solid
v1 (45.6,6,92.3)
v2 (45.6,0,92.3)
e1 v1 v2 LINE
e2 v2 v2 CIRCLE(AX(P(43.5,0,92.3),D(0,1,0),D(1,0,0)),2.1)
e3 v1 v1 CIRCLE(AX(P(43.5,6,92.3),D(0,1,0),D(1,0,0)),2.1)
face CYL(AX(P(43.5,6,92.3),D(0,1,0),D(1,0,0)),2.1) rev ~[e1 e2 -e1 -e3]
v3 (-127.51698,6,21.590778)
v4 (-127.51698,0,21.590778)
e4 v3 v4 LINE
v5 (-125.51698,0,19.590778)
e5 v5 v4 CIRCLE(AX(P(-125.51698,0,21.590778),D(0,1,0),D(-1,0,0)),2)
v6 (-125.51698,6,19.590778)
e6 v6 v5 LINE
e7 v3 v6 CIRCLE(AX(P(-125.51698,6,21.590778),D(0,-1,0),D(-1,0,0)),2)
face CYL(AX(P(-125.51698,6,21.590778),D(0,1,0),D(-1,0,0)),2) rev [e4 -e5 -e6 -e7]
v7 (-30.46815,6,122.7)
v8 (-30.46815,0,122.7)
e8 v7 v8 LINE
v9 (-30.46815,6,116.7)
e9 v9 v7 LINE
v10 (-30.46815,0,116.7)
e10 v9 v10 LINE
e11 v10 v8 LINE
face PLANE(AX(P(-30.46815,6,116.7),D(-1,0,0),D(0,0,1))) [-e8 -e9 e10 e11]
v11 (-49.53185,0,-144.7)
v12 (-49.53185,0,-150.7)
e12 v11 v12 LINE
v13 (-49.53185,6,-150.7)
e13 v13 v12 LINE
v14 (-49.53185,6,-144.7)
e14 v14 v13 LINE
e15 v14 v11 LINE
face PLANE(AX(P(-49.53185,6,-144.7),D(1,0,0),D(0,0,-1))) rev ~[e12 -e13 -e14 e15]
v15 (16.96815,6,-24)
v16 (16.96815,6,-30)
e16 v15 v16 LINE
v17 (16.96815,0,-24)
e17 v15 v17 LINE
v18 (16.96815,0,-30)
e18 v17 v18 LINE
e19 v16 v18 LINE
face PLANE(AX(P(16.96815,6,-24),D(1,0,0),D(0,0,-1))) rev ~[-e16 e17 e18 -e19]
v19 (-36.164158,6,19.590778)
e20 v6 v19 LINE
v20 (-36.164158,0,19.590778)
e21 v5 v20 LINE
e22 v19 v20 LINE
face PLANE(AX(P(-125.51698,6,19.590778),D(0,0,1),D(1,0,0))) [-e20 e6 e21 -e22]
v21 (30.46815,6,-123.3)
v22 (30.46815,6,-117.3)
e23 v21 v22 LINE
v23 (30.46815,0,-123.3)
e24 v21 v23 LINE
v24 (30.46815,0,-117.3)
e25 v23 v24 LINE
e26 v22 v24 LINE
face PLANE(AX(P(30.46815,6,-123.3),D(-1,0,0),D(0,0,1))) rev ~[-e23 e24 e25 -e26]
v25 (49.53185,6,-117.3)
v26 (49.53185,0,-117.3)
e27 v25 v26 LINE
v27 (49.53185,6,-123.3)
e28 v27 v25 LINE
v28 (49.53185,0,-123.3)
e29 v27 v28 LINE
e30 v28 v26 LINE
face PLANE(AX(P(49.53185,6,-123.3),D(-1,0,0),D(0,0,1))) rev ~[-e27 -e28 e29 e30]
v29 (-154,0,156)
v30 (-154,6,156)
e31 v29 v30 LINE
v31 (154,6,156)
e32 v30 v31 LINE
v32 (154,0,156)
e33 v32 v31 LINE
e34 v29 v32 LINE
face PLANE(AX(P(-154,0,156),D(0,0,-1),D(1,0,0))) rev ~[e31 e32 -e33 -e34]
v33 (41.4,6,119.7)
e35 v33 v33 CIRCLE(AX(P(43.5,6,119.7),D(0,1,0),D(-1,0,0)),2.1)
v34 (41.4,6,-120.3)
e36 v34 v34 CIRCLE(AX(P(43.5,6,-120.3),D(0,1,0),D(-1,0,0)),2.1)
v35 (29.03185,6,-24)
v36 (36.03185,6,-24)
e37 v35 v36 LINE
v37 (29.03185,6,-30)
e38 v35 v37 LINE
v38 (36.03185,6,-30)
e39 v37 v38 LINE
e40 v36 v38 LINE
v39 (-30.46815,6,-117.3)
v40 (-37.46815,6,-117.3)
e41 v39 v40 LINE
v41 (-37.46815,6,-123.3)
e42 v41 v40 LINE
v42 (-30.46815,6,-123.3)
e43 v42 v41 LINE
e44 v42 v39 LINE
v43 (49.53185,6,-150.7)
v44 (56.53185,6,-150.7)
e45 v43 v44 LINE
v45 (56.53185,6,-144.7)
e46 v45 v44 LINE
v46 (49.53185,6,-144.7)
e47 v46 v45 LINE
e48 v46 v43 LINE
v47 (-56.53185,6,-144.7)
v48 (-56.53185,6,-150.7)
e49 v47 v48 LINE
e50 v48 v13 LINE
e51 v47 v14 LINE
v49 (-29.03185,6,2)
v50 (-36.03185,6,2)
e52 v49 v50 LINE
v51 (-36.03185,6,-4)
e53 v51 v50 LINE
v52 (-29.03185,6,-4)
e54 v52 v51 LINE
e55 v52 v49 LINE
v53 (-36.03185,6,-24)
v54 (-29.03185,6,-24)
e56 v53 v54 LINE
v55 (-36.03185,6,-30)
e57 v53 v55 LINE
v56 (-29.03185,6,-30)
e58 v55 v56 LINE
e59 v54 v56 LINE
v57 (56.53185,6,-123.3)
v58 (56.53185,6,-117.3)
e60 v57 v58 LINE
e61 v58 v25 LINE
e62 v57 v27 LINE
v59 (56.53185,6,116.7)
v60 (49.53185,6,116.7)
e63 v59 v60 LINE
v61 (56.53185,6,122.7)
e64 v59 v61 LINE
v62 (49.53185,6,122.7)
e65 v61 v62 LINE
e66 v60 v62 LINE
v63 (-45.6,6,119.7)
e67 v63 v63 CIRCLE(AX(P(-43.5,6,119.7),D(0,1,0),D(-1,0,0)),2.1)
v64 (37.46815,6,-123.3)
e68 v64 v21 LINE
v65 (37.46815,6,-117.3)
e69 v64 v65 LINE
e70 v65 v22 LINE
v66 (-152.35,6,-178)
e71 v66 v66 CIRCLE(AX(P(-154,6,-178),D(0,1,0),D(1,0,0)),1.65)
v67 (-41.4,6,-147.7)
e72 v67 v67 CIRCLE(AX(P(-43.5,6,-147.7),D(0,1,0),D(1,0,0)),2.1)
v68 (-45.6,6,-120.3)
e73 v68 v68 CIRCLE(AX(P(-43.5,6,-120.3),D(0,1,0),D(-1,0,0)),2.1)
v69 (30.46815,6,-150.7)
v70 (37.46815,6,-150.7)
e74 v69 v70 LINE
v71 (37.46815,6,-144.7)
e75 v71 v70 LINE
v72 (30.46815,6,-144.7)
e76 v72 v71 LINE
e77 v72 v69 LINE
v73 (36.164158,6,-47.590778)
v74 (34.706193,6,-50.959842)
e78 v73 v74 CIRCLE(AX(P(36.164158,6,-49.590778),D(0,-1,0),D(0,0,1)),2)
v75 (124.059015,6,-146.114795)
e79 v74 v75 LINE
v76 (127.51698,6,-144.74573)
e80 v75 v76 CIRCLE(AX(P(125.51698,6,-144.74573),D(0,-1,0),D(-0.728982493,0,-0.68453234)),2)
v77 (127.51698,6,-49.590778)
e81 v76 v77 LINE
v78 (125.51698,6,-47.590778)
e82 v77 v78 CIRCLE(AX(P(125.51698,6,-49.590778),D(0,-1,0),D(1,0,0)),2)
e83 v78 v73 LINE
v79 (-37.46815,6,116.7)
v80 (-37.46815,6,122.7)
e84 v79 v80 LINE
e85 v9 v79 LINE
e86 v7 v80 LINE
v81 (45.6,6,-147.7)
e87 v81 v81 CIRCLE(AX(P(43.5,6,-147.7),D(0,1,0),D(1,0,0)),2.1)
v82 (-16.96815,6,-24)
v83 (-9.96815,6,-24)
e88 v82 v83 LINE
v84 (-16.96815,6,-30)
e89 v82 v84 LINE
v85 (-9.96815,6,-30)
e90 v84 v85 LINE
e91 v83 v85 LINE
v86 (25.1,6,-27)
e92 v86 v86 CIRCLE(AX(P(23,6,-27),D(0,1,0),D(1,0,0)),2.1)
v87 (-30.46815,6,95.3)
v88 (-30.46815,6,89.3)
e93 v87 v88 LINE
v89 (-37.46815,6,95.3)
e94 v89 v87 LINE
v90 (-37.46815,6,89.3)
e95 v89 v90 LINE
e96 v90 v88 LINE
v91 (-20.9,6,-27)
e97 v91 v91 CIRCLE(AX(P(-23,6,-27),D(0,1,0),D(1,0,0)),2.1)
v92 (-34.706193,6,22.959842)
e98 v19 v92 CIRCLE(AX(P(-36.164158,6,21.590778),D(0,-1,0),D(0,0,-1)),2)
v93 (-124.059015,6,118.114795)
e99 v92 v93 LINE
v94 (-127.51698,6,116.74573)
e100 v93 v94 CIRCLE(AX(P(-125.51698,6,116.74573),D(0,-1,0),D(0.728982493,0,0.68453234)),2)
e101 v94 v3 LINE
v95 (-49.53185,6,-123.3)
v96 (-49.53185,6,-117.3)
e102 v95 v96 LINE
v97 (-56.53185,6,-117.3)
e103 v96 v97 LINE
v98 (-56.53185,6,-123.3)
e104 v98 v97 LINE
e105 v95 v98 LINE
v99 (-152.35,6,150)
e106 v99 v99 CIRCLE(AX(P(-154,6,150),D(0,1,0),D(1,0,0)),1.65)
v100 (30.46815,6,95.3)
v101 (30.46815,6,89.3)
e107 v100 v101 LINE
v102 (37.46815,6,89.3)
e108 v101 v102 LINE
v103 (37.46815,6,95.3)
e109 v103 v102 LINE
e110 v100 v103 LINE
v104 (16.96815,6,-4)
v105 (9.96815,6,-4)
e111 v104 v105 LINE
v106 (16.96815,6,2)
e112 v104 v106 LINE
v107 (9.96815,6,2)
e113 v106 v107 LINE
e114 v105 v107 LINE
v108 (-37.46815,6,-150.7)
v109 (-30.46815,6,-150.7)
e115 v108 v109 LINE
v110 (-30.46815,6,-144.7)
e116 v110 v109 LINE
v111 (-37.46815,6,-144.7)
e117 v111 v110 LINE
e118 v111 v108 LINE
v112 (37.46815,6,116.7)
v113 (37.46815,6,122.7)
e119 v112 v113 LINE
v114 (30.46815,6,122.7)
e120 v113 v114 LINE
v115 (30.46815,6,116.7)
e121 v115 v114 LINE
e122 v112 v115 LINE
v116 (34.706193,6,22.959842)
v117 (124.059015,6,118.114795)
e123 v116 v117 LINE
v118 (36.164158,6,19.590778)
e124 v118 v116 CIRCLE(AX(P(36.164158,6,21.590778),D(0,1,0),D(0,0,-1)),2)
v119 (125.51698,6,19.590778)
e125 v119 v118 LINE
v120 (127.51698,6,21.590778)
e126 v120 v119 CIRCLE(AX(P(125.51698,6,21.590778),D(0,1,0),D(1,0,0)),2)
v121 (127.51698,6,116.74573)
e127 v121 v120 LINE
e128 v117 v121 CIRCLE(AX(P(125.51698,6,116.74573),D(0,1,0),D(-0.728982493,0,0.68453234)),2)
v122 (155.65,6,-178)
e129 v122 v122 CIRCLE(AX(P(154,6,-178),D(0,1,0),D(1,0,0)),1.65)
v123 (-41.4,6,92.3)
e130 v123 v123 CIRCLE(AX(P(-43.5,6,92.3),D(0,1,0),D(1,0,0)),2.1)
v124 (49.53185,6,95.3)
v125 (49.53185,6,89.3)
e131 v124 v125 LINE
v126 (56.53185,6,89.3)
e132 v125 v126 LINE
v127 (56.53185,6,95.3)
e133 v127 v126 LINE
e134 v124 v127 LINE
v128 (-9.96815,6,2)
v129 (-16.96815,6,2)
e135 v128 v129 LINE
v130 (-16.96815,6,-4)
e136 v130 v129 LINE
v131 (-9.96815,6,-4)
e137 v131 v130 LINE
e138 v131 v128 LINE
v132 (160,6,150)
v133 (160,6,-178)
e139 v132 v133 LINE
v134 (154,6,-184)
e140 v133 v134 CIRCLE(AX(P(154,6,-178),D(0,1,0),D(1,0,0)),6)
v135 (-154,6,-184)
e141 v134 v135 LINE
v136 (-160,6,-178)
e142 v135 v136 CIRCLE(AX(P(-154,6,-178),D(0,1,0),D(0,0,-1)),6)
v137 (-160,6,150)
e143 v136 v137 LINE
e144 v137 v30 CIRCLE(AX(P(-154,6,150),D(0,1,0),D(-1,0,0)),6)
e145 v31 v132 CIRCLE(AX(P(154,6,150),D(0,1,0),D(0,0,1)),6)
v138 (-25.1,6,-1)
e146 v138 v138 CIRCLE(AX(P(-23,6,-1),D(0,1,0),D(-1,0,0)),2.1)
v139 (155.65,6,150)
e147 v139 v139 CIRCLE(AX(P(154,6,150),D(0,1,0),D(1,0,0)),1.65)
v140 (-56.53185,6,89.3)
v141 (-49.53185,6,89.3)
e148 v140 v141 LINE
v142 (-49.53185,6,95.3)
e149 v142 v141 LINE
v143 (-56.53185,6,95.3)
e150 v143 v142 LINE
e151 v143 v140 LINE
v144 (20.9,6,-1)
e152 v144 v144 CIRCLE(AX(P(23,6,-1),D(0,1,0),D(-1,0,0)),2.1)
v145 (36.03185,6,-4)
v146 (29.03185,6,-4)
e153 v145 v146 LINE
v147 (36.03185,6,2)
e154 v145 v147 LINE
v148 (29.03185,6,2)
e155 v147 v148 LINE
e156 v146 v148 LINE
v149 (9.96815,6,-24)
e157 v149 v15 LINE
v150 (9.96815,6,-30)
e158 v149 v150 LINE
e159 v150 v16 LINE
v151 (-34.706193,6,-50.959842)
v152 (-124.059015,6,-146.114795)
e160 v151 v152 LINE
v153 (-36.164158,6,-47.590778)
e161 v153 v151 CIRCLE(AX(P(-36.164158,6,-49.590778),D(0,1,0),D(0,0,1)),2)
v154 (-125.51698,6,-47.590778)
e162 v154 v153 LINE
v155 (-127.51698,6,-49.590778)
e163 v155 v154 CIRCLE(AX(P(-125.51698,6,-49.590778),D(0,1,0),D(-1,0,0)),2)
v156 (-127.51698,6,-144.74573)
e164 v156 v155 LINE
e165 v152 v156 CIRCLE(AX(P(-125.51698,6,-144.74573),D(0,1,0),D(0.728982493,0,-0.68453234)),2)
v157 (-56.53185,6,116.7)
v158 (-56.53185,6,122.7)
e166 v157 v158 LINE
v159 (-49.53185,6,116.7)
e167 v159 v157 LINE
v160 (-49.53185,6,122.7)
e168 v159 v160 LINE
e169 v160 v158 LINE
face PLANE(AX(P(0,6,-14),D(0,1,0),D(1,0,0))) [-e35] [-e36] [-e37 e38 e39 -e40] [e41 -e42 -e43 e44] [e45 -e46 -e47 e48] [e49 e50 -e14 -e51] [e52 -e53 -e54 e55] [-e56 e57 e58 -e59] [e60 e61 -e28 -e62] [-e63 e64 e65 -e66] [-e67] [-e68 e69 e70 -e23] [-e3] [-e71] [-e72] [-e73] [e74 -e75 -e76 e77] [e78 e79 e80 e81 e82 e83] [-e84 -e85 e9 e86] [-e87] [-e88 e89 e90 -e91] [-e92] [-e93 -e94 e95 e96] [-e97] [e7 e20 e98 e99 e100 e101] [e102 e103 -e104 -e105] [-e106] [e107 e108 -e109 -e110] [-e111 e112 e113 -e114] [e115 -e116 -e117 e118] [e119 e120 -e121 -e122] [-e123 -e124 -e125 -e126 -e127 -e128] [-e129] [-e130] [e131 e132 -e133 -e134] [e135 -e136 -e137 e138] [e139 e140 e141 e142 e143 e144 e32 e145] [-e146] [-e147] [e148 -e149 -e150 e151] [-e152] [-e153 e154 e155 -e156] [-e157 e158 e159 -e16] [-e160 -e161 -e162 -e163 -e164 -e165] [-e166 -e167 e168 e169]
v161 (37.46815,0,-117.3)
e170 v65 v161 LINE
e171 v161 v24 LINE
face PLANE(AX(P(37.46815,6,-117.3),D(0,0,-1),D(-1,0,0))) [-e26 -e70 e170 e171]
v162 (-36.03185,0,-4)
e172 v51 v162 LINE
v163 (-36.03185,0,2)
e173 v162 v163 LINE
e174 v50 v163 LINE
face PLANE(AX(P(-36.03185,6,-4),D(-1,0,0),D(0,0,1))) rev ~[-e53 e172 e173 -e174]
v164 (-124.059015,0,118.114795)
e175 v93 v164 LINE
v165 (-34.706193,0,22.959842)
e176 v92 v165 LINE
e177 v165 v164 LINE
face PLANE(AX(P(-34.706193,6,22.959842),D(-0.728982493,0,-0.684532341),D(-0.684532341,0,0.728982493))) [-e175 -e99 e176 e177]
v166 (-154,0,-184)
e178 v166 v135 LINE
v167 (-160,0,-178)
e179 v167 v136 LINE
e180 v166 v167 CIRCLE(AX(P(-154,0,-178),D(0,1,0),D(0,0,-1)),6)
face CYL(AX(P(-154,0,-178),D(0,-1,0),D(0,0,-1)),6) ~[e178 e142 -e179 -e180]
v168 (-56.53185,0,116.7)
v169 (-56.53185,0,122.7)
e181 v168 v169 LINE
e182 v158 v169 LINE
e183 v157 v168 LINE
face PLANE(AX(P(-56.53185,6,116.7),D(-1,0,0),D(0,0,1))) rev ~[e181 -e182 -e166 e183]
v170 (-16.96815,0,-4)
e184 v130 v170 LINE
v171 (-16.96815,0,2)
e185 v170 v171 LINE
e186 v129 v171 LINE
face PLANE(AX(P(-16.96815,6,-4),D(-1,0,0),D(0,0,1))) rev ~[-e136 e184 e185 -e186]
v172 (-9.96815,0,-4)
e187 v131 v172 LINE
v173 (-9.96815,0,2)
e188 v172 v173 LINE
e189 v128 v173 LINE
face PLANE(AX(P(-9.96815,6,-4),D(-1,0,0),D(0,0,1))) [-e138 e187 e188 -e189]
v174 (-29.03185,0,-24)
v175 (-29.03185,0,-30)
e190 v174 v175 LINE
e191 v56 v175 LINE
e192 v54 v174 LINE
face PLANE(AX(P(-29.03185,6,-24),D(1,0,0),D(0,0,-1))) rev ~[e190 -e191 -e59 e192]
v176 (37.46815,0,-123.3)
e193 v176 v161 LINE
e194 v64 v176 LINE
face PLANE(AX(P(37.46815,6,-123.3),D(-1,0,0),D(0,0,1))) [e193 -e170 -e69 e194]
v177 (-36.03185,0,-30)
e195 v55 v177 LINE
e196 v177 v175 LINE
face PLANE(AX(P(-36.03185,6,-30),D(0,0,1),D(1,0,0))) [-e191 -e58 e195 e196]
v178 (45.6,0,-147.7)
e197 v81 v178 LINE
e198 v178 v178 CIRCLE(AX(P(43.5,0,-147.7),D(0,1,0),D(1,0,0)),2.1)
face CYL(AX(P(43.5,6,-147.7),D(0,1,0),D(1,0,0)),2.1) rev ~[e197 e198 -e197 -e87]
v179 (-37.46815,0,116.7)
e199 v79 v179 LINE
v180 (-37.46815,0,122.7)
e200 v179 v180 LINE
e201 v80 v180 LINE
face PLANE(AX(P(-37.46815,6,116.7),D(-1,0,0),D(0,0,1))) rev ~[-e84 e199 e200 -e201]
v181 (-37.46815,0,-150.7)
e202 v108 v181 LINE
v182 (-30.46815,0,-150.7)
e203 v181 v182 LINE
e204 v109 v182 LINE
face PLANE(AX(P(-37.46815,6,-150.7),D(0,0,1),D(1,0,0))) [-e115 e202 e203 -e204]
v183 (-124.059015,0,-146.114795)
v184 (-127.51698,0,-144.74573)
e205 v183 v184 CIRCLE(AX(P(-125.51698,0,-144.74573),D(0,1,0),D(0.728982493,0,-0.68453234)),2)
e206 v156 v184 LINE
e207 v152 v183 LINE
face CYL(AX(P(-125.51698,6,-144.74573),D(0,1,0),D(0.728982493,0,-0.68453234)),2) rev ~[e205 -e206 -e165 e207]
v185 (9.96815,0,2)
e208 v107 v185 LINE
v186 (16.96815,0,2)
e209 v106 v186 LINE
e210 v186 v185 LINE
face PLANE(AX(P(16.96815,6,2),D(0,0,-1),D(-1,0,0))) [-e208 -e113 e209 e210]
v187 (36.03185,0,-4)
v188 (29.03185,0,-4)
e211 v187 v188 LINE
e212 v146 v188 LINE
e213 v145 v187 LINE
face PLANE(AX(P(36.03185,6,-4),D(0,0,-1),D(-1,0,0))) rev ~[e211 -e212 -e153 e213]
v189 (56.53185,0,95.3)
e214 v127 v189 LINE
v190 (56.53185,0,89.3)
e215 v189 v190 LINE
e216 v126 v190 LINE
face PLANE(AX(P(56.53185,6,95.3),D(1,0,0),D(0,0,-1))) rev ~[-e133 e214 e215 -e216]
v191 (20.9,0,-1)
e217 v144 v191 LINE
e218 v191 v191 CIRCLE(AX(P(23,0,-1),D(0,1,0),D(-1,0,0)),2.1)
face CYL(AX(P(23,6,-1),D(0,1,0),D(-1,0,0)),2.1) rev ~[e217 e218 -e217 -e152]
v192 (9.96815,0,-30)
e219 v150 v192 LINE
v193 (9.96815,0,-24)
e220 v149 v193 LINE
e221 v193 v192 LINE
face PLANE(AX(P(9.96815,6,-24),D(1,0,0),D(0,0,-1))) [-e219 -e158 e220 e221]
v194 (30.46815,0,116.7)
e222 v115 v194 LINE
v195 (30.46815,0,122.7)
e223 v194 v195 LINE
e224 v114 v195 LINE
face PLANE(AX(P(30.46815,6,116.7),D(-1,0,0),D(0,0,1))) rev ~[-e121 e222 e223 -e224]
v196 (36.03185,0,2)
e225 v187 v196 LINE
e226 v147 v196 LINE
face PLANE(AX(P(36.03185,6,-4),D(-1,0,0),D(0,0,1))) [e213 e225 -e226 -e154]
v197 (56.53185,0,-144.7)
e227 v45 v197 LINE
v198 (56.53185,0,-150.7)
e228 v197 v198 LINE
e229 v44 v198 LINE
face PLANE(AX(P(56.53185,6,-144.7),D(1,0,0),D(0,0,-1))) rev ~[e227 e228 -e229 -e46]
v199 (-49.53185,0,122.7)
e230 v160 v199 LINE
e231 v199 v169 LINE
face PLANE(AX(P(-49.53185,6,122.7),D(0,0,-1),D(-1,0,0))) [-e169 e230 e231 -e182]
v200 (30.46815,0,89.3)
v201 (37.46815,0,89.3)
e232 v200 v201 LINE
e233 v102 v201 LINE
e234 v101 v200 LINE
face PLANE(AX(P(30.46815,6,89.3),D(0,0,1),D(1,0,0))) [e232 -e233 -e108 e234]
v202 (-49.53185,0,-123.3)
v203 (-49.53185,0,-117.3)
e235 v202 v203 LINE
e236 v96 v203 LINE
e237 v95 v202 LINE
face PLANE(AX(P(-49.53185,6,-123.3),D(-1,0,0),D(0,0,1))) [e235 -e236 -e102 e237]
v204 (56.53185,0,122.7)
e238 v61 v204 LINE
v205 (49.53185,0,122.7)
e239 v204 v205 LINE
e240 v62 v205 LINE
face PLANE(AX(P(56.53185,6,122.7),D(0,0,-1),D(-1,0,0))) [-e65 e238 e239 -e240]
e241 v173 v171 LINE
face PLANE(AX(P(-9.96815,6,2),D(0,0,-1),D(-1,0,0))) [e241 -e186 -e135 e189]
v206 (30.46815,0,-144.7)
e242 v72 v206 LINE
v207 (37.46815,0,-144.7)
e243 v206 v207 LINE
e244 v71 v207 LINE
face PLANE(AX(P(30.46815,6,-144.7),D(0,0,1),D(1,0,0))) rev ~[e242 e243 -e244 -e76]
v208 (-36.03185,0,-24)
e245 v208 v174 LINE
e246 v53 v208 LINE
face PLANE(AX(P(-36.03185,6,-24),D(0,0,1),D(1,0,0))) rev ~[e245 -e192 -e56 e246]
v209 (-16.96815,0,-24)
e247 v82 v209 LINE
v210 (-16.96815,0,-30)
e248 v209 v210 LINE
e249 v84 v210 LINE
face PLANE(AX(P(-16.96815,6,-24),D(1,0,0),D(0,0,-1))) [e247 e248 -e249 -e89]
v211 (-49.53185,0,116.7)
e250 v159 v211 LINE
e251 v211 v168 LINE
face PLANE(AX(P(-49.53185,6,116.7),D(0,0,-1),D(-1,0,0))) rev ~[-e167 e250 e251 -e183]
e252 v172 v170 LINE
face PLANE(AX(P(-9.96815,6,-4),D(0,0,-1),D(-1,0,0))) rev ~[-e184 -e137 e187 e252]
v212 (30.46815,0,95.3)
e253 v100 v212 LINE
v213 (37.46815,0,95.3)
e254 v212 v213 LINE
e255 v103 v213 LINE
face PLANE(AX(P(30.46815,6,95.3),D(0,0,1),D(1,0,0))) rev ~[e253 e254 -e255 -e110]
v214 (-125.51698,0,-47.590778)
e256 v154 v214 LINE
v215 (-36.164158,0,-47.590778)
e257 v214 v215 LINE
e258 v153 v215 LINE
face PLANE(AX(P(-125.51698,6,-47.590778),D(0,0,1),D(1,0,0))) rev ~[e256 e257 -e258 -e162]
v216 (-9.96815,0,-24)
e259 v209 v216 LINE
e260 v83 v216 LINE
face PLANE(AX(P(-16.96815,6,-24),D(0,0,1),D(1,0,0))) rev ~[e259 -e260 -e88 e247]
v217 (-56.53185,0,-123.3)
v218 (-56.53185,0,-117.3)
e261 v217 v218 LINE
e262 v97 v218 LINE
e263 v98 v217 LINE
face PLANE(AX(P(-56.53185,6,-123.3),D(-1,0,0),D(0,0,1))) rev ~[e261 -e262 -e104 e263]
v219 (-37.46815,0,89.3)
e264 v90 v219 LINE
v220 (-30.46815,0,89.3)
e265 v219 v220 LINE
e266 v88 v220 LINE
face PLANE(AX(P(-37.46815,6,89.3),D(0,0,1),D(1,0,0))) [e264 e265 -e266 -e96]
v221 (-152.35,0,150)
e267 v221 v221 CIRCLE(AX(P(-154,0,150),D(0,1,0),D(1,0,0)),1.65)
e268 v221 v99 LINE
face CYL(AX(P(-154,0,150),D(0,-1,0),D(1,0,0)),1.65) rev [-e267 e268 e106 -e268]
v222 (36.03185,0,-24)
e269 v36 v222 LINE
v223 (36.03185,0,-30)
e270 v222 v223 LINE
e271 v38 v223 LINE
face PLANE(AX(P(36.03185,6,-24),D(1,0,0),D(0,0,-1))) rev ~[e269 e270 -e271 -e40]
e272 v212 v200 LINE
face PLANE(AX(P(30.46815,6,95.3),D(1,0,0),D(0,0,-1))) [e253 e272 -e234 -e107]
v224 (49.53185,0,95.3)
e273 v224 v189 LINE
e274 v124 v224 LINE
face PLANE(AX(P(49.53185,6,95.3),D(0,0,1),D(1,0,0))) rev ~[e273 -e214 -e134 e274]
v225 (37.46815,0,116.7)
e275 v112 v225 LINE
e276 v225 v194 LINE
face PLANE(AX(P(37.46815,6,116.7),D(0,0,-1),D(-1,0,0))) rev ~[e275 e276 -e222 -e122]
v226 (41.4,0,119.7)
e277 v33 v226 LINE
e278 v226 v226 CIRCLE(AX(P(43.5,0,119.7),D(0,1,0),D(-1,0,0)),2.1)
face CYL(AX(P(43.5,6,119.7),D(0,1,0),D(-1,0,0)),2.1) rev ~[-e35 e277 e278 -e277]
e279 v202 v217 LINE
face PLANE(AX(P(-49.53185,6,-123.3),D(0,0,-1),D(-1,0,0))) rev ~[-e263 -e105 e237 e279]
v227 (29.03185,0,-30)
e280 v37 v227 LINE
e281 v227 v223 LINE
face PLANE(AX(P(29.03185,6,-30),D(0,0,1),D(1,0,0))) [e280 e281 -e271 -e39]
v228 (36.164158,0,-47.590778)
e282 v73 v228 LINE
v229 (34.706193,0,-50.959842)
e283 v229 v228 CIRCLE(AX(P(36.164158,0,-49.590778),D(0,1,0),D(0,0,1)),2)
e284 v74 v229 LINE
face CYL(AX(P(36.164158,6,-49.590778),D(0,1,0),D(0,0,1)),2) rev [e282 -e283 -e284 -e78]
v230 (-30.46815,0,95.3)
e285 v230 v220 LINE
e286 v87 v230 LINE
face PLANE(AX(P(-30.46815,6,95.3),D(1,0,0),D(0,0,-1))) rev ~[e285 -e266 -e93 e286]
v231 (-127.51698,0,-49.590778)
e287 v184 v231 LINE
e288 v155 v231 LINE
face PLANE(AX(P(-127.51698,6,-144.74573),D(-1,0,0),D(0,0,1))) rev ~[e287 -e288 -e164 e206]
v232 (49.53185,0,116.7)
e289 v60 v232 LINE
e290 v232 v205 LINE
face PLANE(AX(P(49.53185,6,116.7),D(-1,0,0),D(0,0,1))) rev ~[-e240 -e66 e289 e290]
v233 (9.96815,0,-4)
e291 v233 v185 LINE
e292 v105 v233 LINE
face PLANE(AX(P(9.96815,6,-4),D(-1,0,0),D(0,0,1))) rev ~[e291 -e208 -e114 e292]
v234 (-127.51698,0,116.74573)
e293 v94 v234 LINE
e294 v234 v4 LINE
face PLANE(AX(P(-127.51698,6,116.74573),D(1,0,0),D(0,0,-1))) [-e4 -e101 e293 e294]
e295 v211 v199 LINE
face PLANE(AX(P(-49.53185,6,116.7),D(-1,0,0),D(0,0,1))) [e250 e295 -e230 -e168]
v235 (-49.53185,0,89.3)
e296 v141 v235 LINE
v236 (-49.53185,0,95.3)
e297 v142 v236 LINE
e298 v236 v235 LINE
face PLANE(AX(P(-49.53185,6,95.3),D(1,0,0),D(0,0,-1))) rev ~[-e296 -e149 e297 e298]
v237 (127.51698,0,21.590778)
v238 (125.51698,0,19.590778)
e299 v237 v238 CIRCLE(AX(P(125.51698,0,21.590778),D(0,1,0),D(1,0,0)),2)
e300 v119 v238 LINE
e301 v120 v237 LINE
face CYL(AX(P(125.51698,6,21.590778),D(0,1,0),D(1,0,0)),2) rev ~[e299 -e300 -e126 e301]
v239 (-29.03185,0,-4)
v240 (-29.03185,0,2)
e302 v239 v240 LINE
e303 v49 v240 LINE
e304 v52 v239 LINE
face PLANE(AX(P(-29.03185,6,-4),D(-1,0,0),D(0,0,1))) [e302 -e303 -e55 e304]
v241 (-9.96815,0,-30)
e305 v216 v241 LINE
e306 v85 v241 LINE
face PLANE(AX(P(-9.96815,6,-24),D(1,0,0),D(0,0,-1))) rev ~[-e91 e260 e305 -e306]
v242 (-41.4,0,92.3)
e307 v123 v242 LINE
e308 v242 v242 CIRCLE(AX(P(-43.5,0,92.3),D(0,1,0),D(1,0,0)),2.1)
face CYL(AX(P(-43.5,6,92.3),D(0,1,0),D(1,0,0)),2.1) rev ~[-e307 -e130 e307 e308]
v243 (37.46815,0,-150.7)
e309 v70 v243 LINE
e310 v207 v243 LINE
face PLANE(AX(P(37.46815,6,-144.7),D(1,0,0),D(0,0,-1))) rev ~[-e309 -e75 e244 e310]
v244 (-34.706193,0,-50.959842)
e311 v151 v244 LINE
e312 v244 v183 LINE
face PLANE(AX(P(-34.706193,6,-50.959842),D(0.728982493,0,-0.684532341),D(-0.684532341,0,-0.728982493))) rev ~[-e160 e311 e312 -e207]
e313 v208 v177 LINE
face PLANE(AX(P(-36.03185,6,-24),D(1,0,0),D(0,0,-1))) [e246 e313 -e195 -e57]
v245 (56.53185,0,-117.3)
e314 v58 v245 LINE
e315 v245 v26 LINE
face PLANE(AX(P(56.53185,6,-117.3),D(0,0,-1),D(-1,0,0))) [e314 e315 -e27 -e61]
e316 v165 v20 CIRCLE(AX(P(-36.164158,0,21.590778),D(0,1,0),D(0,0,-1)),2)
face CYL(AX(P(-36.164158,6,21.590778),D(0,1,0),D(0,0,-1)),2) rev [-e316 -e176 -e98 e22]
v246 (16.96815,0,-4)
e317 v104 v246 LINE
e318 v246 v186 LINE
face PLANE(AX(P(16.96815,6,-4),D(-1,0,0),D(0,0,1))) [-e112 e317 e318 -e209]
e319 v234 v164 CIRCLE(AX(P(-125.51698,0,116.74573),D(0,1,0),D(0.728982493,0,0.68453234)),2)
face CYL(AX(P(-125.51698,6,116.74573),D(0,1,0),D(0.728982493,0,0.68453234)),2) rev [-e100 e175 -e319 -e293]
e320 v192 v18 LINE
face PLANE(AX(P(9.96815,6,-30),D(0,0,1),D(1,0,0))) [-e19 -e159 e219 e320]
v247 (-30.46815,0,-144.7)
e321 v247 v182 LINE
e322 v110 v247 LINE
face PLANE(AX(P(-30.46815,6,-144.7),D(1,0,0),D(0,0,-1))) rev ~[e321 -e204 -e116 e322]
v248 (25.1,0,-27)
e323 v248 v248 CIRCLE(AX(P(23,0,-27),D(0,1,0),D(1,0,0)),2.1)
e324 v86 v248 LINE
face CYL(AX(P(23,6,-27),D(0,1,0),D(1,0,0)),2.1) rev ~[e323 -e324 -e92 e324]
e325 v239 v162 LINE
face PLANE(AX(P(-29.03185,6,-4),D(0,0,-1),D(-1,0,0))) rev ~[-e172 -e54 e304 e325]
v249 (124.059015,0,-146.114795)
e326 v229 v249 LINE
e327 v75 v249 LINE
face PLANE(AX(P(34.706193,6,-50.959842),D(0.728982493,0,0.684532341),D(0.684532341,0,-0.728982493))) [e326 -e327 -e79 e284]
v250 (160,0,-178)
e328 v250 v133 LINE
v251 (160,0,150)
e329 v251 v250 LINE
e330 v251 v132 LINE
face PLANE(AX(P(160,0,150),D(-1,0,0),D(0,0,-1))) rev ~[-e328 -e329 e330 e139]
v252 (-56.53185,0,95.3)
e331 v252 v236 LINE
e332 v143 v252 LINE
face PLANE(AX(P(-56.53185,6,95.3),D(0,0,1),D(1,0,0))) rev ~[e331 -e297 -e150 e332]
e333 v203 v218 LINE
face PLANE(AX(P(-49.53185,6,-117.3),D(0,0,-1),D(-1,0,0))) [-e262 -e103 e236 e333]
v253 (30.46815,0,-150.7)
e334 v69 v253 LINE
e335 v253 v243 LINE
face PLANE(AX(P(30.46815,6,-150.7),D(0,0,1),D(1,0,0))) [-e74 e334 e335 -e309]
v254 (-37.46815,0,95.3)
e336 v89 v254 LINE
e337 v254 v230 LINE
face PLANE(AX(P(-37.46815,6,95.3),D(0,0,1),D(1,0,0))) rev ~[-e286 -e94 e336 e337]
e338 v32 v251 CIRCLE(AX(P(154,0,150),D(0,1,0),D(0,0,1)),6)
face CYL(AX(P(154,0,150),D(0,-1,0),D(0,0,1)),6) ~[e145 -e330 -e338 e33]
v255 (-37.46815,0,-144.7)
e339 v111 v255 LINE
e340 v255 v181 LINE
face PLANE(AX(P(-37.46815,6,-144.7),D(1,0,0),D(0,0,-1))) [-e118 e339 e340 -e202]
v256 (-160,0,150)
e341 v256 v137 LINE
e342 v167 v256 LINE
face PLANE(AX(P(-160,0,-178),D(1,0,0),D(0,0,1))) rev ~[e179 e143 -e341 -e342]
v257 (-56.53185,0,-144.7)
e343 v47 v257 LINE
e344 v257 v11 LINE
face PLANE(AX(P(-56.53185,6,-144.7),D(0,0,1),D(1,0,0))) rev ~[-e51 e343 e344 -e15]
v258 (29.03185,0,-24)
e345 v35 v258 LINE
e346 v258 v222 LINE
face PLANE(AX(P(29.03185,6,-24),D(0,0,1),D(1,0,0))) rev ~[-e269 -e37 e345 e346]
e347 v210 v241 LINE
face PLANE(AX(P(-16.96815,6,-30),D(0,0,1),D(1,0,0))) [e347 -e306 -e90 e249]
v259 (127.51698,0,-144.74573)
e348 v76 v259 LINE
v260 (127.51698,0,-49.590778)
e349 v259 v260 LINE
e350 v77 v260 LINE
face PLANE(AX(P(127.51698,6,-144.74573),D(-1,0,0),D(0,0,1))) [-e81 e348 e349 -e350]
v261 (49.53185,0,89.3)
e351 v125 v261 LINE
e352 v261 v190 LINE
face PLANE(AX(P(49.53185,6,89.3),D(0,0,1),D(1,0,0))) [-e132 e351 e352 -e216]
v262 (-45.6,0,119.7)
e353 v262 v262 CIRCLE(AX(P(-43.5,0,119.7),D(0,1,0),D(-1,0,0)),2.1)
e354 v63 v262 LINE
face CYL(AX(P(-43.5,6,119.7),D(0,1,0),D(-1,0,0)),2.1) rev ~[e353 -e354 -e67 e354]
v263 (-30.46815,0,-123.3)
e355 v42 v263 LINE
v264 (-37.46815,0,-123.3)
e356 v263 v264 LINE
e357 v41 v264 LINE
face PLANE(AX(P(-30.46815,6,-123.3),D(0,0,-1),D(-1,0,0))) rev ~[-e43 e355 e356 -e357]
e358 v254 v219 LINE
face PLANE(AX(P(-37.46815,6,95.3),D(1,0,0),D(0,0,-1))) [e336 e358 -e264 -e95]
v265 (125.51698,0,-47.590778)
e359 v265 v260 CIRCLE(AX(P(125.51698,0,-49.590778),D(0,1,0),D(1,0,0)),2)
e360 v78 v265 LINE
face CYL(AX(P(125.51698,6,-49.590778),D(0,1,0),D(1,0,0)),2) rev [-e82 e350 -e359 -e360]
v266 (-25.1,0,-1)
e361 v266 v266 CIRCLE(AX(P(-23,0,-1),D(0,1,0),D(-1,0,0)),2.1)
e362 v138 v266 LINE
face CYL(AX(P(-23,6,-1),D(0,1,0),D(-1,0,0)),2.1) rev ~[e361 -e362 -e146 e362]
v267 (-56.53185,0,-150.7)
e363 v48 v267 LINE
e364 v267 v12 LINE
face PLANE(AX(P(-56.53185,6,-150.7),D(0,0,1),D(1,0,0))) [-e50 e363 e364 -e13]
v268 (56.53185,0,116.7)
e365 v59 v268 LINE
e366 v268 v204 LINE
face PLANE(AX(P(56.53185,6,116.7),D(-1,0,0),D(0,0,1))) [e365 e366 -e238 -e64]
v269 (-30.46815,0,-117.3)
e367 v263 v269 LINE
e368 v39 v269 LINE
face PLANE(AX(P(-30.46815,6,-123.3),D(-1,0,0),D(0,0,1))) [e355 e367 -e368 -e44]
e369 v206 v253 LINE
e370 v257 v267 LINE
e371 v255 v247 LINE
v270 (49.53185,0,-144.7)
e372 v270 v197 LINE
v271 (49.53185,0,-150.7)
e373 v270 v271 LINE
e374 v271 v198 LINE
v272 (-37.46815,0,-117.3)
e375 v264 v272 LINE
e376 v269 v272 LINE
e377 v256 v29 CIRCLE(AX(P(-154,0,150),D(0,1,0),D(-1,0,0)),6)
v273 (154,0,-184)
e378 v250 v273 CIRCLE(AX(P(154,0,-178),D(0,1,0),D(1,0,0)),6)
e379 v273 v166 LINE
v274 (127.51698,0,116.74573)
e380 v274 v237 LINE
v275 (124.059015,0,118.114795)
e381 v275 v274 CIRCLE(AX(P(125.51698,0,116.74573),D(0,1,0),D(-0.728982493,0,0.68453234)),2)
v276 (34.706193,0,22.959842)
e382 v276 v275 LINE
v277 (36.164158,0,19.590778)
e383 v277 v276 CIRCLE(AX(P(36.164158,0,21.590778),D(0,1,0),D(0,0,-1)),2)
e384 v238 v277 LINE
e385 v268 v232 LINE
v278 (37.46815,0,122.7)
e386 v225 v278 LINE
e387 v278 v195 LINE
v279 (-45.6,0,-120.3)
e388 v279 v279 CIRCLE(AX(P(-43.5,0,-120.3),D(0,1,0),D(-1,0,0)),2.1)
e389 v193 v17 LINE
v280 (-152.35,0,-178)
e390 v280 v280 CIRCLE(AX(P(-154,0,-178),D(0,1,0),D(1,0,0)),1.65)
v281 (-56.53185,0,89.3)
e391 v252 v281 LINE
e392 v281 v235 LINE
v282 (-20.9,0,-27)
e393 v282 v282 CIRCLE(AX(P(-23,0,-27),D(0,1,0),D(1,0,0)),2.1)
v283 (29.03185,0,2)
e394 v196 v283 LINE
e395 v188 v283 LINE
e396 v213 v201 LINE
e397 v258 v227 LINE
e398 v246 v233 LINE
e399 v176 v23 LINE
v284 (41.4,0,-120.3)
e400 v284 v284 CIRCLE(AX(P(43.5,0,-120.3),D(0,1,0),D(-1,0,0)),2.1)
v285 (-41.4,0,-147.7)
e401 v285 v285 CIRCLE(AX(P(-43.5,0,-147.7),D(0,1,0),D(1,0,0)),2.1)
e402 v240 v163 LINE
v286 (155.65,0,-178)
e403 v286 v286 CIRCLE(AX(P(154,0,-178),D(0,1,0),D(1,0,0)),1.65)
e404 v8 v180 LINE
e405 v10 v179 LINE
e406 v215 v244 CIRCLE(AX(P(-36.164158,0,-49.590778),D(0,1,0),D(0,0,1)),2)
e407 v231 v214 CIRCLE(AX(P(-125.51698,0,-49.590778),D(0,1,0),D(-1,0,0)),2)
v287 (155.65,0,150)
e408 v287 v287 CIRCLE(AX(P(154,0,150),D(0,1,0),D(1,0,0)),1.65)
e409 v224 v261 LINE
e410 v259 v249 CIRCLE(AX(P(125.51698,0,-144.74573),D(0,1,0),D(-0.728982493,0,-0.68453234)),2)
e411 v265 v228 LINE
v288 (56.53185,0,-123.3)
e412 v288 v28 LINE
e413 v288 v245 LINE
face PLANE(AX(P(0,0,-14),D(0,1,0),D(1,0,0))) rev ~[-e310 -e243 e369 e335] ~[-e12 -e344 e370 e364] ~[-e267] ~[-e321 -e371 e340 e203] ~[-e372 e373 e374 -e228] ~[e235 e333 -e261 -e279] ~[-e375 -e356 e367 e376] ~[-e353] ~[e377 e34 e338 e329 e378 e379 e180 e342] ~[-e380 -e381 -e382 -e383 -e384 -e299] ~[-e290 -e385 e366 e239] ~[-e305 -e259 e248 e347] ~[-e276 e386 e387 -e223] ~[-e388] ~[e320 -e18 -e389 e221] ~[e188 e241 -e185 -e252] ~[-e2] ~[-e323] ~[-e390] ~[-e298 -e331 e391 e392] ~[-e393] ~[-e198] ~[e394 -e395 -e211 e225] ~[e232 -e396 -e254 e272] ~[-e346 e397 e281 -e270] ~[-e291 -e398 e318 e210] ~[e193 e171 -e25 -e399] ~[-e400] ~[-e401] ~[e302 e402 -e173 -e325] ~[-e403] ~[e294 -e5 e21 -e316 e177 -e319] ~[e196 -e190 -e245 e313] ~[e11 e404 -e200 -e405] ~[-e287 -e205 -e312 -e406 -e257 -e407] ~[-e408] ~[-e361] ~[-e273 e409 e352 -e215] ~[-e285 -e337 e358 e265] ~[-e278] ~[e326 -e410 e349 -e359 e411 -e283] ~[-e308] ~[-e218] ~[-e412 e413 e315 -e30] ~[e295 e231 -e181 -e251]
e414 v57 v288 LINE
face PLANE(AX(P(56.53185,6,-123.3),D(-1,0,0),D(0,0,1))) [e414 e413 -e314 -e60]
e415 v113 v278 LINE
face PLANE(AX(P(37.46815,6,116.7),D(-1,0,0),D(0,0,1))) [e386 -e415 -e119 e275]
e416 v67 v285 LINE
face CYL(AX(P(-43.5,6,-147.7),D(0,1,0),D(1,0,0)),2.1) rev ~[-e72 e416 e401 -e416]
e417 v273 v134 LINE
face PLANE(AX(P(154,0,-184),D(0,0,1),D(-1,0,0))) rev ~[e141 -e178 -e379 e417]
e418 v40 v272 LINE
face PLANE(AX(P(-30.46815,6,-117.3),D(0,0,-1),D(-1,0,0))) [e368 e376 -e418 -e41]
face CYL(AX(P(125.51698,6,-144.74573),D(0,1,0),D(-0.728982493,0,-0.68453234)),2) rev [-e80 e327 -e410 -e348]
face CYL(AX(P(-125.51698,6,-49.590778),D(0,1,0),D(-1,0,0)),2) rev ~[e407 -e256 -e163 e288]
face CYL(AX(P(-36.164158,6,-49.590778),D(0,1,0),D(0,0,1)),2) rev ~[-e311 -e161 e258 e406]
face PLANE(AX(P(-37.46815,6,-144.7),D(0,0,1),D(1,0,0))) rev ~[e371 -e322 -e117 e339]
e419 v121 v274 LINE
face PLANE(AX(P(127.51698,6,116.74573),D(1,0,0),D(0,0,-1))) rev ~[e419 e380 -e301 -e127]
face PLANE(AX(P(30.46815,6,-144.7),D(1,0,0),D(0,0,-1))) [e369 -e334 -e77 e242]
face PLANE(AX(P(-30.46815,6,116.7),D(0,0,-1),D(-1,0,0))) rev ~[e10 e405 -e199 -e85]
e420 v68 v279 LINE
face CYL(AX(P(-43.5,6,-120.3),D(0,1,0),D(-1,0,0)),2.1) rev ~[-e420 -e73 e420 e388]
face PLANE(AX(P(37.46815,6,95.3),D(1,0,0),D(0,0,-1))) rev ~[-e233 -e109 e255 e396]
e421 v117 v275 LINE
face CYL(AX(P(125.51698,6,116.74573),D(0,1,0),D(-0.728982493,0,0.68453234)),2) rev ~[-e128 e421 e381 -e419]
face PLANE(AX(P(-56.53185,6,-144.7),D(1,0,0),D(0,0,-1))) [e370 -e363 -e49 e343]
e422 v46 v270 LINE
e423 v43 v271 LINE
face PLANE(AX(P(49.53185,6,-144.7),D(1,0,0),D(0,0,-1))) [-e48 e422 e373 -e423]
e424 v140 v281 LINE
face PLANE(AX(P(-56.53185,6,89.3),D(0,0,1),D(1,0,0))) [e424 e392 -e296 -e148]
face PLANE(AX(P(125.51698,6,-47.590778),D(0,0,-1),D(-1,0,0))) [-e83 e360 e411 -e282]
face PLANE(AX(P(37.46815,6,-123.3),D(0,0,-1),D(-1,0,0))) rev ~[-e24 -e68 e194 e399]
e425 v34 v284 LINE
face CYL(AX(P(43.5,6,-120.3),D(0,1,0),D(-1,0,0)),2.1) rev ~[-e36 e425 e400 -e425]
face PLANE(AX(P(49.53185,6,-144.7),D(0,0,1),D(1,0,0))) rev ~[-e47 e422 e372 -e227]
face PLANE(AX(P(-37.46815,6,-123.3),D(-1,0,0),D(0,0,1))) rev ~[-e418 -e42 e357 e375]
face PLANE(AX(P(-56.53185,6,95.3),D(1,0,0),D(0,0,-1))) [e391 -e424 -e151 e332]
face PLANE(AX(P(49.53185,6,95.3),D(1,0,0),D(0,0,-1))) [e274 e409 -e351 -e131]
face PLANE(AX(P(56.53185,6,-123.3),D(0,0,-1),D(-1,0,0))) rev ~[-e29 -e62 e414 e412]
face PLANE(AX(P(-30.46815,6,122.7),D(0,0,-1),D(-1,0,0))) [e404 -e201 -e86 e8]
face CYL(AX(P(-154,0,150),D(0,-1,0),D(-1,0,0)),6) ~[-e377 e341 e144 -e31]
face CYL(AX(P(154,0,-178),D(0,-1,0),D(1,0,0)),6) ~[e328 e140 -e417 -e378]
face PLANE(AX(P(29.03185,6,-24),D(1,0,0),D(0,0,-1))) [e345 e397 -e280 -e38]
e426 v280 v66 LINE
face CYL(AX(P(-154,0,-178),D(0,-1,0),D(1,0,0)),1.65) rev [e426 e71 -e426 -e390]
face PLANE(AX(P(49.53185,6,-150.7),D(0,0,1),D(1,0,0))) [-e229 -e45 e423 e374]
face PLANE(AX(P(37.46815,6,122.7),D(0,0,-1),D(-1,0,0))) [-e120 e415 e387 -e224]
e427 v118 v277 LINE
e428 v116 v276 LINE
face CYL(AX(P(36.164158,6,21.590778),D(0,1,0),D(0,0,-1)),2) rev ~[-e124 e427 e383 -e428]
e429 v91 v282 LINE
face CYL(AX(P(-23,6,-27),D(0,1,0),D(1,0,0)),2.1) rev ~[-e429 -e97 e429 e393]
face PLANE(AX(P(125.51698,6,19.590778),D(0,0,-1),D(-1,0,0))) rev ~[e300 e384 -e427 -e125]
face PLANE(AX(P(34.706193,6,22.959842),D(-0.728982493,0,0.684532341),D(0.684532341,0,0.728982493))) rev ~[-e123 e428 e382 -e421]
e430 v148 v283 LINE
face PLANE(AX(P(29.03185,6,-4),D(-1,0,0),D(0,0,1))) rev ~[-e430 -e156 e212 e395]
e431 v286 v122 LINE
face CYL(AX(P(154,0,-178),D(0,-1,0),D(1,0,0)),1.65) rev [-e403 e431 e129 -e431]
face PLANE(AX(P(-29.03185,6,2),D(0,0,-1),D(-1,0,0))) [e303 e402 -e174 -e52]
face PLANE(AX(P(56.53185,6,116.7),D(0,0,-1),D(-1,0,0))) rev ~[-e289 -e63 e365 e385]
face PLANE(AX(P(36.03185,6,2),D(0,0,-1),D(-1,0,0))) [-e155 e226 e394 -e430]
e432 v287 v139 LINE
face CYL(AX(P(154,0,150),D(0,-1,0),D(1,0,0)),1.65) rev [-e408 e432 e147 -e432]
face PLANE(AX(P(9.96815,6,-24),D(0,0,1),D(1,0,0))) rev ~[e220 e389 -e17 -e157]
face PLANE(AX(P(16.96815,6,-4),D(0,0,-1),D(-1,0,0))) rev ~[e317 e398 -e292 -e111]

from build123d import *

# Parameters (mm, degrees)
SKETCH_1_R            = 1.65
EXTRUDE_1_DEPTH       = 6
SKETCH_3_R            = 2.1
SKETCH_3_W            = 7
SKETCH_3_H            = 6
CUT_EXTRUDE_1_DEPTH   = 7
SKETCH_31_R           = 2.1
SKETCH_31_W           = 7
SKETCH_31_H           = 6
CUT_EXTRUDE_11_DEPTH  = 7
SKETCH_32_R           = 2.1
SKETCH_32_W           = 7
SKETCH_32_H           = 6
CUT_EXTRUDE_12_DEPTH  = 7
SKETCH_33_R           = 2.1
SKETCH_33_W           = 7
SKETCH_33_H           = 6
CUT_EXTRUDE_13_DEPTH  = 7
SKETCH_34_R           = 2.1
SKETCH_34_W           = 7
SKETCH_34_H           = 6
CUT_EXTRUDE_14_DEPTH  = 7
SKETCH_35_R           = 2.1
SKETCH_35_W           = 7
SKETCH_35_H           = 6
CUT_EXTRUDE_15_DEPTH  = 7
SKETCH_37_R           = 2.1
SKETCH_37_W           = 7
SKETCH_37_H           = 6
CUT_EXTRUDE_17_DEPTH  = 7
SKETCH_38_R           = 2.1
SKETCH_38_W           = 7
SKETCH_38_H           = 6
CUT_EXTRUDE_18_DEPTH  = 7
SKETCH_39_R           = 2.1
SKETCH_39_W           = 7
SKETCH_39_H           = 6
CUT_EXTRUDE_19_DEPTH  = 7
SKETCH_310_R          = 2.1
SKETCH_310_W          = 7
SKETCH_310_H          = 6
CUT_EXTRUDE_110_DEPTH = 7
SKETCH_311_R          = 2.1
SKETCH_311_W          = 7
SKETCH_311_H          = 6
CUT_EXTRUDE_111_DEPTH = 7
SKETCH_312_R          = 2.1
SKETCH_312_W          = 7
SKETCH_312_H          = 6
CUT_EXTRUDE_112_DEPTH = 7
CUT_EXTRUDE_113_DEPTH = 7


with BuildPart() as part:
    # Эскиз1 → Бобышка-Вытянуть1 (new body)
    with BuildSketch(Plane(origin=(0, 0, 0), x_dir=(1, 0, 0), z_dir=(0, 1, 0))):
        with BuildLine():
            Line((-154, -156), (154, -156))
            ThreePointArc((154, -156), (158.242640687, -154.242640687), (160, -150))
            Line((160, -150), (160, 178))
            ThreePointArc((160, 178), (158.242640687, 182.242640687), (154, 184))
            Line((154, 184), (-154, 184))
            ThreePointArc((-154, 184), (-158.242640687, 182.242640687), (-160, 178))
            Line((-160, 178), (-160, -150))
            ThreePointArc((-160, -150), (-158.242640687, -154.242640687), (-154, -156))
        make_face()
        with Locations((-154, 178)):
            Circle(SKETCH_1_R, mode=Mode.SUBTRACT)
        with Locations((154, 178)):
            Circle(SKETCH_1_R, mode=Mode.SUBTRACT)
        with Locations((-154, -150)):
            Circle(SKETCH_1_R, mode=Mode.SUBTRACT)
        with Locations((154, -150)):
            Circle(SKETCH_1_R, mode=Mode.SUBTRACT)
    extrude(amount=EXTRUDE_1_DEPTH)

    # Эскиз3 → Вырез-Вытянуть1 (cut, through all)
    with BuildSketch(Plane(origin=(-23, 6, 20), x_dir=(1, 0, 0), z_dir=(0, 1, 0))):
        with Locations((0, 47)):
            Circle(SKETCH_3_R)
        with Locations((9.531849908, 47)):
            Rectangle(SKETCH_3_W, SKETCH_3_H)
        with Locations((-9.531849908, 47)):
            Rectangle(SKETCH_3_W, SKETCH_3_H)
    extrude(amount=-CUT_EXTRUDE_1_DEPTH, mode=Mode.SUBTRACT)

    # Эскиз31 → Вырез-Вытянуть11 (cut, through all)
    with BuildSketch(Plane(origin=(-23, 6, -48), x_dir=(-1, 0, 0), z_dir=(0, 1, 0))):
        with Locations((0, 47)):
            Circle(SKETCH_31_R)
        with Locations((9.531849908, 47)):
            Rectangle(SKETCH_31_W, SKETCH_31_H)
        with Locations((-9.531849908, 47)):
            Rectangle(SKETCH_31_W, SKETCH_31_H)
    extrude(amount=-CUT_EXTRUDE_11_DEPTH, mode=Mode.SUBTRACT)

    # Эскиз32 → Вырез-Вытянуть12 (cut, through all)
    with BuildSketch(Plane(origin=(23, 6, 20), x_dir=(1, 0, 0), z_dir=(0, 1, 0))):
        with Locations((0, 47)):
            Circle(SKETCH_32_R)
        with Locations((9.531849908, 47)):
            Rectangle(SKETCH_32_W, SKETCH_32_H)
        with Locations((-9.531849908, 47)):
            Rectangle(SKETCH_32_W, SKETCH_32_H)
    extrude(amount=-CUT_EXTRUDE_12_DEPTH, mode=Mode.SUBTRACT)

    # Эскиз33 → Вырез-Вытянуть13 (cut, through all)
    with BuildSketch(Plane(origin=(23, 6, -48), x_dir=(-1, 0, 0), z_dir=(0, 1, 0))):
        with Locations((0, 47)):
            Circle(SKETCH_33_R)
        with Locations((9.531849908, 47)):
            Rectangle(SKETCH_33_W, SKETCH_33_H)
        with Locations((-9.531849908, 47)):
            Rectangle(SKETCH_33_W, SKETCH_33_H)
    extrude(amount=-CUT_EXTRUDE_13_DEPTH, mode=Mode.SUBTRACT)

    # Эскиз34 → Вырез-Вытянуть14 (cut, through all)
    with BuildSketch(Plane(origin=(43.5, 6, 72.7), x_dir=(-1, 0, 0), z_dir=(0, 1, 0))):
        with Locations((0, 47)):
            Circle(SKETCH_34_R)
        with Locations((9.531849908, 47)):
            Rectangle(SKETCH_34_W, SKETCH_34_H)
        with Locations((-9.531849908, 47)):
            Rectangle(SKETCH_34_W, SKETCH_34_H)
    extrude(amount=-CUT_EXTRUDE_14_DEPTH, mode=Mode.SUBTRACT)

    # Эскиз35 → Вырез-Вытянуть15 (cut, through all)
    with BuildSketch(Plane(origin=(43.5, 6, 139.3), x_dir=(1, 0, 0), z_dir=(0, 1, 0))):
        with Locations((0, 47)):
            Circle(SKETCH_35_R)
        with Locations((9.531849908, 47)):
            Rectangle(SKETCH_35_W, SKETCH_35_H)
        with Locations((-9.531849908, 47)):
            Rectangle(SKETCH_35_W, SKETCH_35_H)
    extrude(amount=-CUT_EXTRUDE_15_DEPTH, mode=Mode.SUBTRACT)

    # Эскиз37 → Вырез-Вытянуть17 (cut, through all)
    with BuildSketch(Plane(origin=(-43.5, 6, 139.3), x_dir=(1, 0, 0), z_dir=(0, 1, 0))):
        with Locations((0, 47)):
            Circle(SKETCH_37_R)
        with Locations((9.531849908, 47)):
            Rectangle(SKETCH_37_W, SKETCH_37_H)
        with Locations((-9.531849908, 47)):
            Rectangle(SKETCH_37_W, SKETCH_37_H)
    extrude(amount=-CUT_EXTRUDE_17_DEPTH, mode=Mode.SUBTRACT)

    # Эскиз38 → Вырез-Вытянуть18 (cut, through all)
    with BuildSketch(Plane(origin=(-43.5, 6, 72.7), x_dir=(-1, 0, 0), z_dir=(0, 1, 0))):
        with Locations((0, 47)):
            Circle(SKETCH_38_R)
        with Locations((9.531849908, 47)):
            Rectangle(SKETCH_38_W, SKETCH_38_H)
        with Locations((-9.531849908, 47)):
            Rectangle(SKETCH_38_W, SKETCH_38_H)
    extrude(amount=-CUT_EXTRUDE_18_DEPTH, mode=Mode.SUBTRACT)

    # Эскиз39 → Вырез-Вытянуть19 (cut, through all)
    with BuildSketch(Plane(origin=(-43.5, 6, -100.7), x_dir=(1, 0, 0), z_dir=(0, 1, 0))):
        with Locations((0, 47)):
            Circle(SKETCH_39_R)
        with Locations((9.531849908, 47)):
            Rectangle(SKETCH_39_W, SKETCH_39_H)
        with Locations((-9.531849908, 47)):
            Rectangle(SKETCH_39_W, SKETCH_39_H)
    extrude(amount=-CUT_EXTRUDE_19_DEPTH, mode=Mode.SUBTRACT)

    # Эскиз310 → Вырез-Вытянуть110 (cut, through all)
    with BuildSketch(Plane(origin=(43.5, 6, -100.7), x_dir=(1, 0, 0), z_dir=(0, 1, 0))):
        with Locations((0, 47)):
            Circle(SKETCH_310_R)
        with Locations((9.531849908, 47)):
            Rectangle(SKETCH_310_W, SKETCH_310_H)
        with Locations((-9.531849908, 47)):
            Rectangle(SKETCH_310_W, SKETCH_310_H)
    extrude(amount=-CUT_EXTRUDE_110_DEPTH, mode=Mode.SUBTRACT)

    # Эскиз311 → Вырез-Вытянуть111 (cut, through all)
    with BuildSketch(Plane(origin=(-43.5, 6, -167.3), x_dir=(-1, 0, 0), z_dir=(0, 1, 0))):
        with Locations((0, 47)):
            Circle(SKETCH_311_R)
        with Locations((9.531849908, 47)):
            Rectangle(SKETCH_311_W, SKETCH_311_H)
        with Locations((-9.531849908, 47)):
            Rectangle(SKETCH_311_W, SKETCH_311_H)
    extrude(amount=-CUT_EXTRUDE_111_DEPTH, mode=Mode.SUBTRACT)

    # Эскиз312 → Вырез-Вытянуть112 (cut, through all)
    with BuildSketch(Plane(origin=(43.5, 6, -167.3), x_dir=(-1, 0, 0), z_dir=(0, 1, 0))):
        with Locations((0, 47)):
            Circle(SKETCH_312_R)
        with Locations((9.531849908, 47)):
            Rectangle(SKETCH_312_W, SKETCH_312_H)
        with Locations((-9.531849908, 47)):
            Rectangle(SKETCH_312_W, SKETCH_312_H)
    extrude(amount=-CUT_EXTRUDE_112_DEPTH, mode=Mode.SUBTRACT)

    # Эскиз313 → Вырез-Вытянуть113 (cut, through all)
    with BuildSketch(Plane(origin=(0, 6, 0), x_dir=(1, 0, 0), z_dir=(0, 1, 0))):
        with BuildLine():
            Line((-127.516979969, 144.745730497), (-127.516979969, 49.590777688))
            ThreePointArc((-127.516979969, 49.590777688), (-126.931193532, 48.176564126), (-125.516979969, 47.590777688))
            Line((-125.516979969, 47.590777688), (-36.16415843, 47.590777688))
            ThreePointArc((-36.16415843, 47.590777688), (-34.328657222, 48.796463318), (-34.706193444, 50.959842369))
            Line((-34.706193444, 50.959842369), (-124.059014984, 146.114795178))
            ThreePointArc((-124.059014984, 146.114795178), (-126.253210242, 146.605290925), (-127.516979969, 144.745730497))
        make_face()
        with BuildLine():
            Line((34.706193444, 50.959842369), (124.059014984, 146.114795178))
            ThreePointArc((124.059014984, 146.114795178), (126.253210242, 146.605290925), (127.516979969, 144.745730497))
            Line((127.516979969, 144.745730497), (127.516979969, 49.590777688))
            ThreePointArc((127.516979969, 49.590777688), (126.931193532, 48.176564126), (125.516979969, 47.590777688))
            Line((125.516979969, 47.590777688), (36.16415843, 47.590777688))
            ThreePointArc((36.16415843, 47.590777688), (34.328657222, 48.796463318), (34.706193444, 50.959842369))
        make_face()
        with BuildLine():
            Line((127.516979969, -116.745730497), (127.516979969, -21.590777688))
            ThreePointArc((127.516979969, -21.590777688), (126.931193532, -20.176564126), (125.516979969, -19.590777688))
            Line((125.516979969, -19.590777688), (36.16415843, -19.590777688))
            ThreePointArc((36.16415843, -19.590777688), (34.328657222, -20.796463318), (34.706193444, -22.959842369))
            Line((34.706193444, -22.959842369), (124.059014984, -118.114795178))
            ThreePointArc((124.059014984, -118.114795178), (126.253210242, -118.605290925), (127.516979969, -116.745730497))
        make_face()
        with BuildLine():
            Line((-34.706193444, -22.959842369), (-124.059014984, -118.114795178))
            ThreePointArc((-124.059014984, -118.114795178), (-126.253210242, -118.605290925), (-127.516979969, -116.745730497))
            Line((-127.516979969, -116.745730497), (-127.516979969, -21.590777688))
            ThreePointArc((-127.516979969, -21.590777688), (-126.931193532, -20.176564126), (-125.516979969, -19.590777688))
            Line((-125.516979969, -19.590777688), (-36.16415843, -19.590777688))
            ThreePointArc((-36.16415843, -19.590777688), (-34.328657222, -20.796463318), (-34.706193444, -22.959842369))
        make_face()
    extrude(amount=-CUT_EXTRUDE_113_DEPTH, mode=Mode.SUBTRACT)


solid = part.part
